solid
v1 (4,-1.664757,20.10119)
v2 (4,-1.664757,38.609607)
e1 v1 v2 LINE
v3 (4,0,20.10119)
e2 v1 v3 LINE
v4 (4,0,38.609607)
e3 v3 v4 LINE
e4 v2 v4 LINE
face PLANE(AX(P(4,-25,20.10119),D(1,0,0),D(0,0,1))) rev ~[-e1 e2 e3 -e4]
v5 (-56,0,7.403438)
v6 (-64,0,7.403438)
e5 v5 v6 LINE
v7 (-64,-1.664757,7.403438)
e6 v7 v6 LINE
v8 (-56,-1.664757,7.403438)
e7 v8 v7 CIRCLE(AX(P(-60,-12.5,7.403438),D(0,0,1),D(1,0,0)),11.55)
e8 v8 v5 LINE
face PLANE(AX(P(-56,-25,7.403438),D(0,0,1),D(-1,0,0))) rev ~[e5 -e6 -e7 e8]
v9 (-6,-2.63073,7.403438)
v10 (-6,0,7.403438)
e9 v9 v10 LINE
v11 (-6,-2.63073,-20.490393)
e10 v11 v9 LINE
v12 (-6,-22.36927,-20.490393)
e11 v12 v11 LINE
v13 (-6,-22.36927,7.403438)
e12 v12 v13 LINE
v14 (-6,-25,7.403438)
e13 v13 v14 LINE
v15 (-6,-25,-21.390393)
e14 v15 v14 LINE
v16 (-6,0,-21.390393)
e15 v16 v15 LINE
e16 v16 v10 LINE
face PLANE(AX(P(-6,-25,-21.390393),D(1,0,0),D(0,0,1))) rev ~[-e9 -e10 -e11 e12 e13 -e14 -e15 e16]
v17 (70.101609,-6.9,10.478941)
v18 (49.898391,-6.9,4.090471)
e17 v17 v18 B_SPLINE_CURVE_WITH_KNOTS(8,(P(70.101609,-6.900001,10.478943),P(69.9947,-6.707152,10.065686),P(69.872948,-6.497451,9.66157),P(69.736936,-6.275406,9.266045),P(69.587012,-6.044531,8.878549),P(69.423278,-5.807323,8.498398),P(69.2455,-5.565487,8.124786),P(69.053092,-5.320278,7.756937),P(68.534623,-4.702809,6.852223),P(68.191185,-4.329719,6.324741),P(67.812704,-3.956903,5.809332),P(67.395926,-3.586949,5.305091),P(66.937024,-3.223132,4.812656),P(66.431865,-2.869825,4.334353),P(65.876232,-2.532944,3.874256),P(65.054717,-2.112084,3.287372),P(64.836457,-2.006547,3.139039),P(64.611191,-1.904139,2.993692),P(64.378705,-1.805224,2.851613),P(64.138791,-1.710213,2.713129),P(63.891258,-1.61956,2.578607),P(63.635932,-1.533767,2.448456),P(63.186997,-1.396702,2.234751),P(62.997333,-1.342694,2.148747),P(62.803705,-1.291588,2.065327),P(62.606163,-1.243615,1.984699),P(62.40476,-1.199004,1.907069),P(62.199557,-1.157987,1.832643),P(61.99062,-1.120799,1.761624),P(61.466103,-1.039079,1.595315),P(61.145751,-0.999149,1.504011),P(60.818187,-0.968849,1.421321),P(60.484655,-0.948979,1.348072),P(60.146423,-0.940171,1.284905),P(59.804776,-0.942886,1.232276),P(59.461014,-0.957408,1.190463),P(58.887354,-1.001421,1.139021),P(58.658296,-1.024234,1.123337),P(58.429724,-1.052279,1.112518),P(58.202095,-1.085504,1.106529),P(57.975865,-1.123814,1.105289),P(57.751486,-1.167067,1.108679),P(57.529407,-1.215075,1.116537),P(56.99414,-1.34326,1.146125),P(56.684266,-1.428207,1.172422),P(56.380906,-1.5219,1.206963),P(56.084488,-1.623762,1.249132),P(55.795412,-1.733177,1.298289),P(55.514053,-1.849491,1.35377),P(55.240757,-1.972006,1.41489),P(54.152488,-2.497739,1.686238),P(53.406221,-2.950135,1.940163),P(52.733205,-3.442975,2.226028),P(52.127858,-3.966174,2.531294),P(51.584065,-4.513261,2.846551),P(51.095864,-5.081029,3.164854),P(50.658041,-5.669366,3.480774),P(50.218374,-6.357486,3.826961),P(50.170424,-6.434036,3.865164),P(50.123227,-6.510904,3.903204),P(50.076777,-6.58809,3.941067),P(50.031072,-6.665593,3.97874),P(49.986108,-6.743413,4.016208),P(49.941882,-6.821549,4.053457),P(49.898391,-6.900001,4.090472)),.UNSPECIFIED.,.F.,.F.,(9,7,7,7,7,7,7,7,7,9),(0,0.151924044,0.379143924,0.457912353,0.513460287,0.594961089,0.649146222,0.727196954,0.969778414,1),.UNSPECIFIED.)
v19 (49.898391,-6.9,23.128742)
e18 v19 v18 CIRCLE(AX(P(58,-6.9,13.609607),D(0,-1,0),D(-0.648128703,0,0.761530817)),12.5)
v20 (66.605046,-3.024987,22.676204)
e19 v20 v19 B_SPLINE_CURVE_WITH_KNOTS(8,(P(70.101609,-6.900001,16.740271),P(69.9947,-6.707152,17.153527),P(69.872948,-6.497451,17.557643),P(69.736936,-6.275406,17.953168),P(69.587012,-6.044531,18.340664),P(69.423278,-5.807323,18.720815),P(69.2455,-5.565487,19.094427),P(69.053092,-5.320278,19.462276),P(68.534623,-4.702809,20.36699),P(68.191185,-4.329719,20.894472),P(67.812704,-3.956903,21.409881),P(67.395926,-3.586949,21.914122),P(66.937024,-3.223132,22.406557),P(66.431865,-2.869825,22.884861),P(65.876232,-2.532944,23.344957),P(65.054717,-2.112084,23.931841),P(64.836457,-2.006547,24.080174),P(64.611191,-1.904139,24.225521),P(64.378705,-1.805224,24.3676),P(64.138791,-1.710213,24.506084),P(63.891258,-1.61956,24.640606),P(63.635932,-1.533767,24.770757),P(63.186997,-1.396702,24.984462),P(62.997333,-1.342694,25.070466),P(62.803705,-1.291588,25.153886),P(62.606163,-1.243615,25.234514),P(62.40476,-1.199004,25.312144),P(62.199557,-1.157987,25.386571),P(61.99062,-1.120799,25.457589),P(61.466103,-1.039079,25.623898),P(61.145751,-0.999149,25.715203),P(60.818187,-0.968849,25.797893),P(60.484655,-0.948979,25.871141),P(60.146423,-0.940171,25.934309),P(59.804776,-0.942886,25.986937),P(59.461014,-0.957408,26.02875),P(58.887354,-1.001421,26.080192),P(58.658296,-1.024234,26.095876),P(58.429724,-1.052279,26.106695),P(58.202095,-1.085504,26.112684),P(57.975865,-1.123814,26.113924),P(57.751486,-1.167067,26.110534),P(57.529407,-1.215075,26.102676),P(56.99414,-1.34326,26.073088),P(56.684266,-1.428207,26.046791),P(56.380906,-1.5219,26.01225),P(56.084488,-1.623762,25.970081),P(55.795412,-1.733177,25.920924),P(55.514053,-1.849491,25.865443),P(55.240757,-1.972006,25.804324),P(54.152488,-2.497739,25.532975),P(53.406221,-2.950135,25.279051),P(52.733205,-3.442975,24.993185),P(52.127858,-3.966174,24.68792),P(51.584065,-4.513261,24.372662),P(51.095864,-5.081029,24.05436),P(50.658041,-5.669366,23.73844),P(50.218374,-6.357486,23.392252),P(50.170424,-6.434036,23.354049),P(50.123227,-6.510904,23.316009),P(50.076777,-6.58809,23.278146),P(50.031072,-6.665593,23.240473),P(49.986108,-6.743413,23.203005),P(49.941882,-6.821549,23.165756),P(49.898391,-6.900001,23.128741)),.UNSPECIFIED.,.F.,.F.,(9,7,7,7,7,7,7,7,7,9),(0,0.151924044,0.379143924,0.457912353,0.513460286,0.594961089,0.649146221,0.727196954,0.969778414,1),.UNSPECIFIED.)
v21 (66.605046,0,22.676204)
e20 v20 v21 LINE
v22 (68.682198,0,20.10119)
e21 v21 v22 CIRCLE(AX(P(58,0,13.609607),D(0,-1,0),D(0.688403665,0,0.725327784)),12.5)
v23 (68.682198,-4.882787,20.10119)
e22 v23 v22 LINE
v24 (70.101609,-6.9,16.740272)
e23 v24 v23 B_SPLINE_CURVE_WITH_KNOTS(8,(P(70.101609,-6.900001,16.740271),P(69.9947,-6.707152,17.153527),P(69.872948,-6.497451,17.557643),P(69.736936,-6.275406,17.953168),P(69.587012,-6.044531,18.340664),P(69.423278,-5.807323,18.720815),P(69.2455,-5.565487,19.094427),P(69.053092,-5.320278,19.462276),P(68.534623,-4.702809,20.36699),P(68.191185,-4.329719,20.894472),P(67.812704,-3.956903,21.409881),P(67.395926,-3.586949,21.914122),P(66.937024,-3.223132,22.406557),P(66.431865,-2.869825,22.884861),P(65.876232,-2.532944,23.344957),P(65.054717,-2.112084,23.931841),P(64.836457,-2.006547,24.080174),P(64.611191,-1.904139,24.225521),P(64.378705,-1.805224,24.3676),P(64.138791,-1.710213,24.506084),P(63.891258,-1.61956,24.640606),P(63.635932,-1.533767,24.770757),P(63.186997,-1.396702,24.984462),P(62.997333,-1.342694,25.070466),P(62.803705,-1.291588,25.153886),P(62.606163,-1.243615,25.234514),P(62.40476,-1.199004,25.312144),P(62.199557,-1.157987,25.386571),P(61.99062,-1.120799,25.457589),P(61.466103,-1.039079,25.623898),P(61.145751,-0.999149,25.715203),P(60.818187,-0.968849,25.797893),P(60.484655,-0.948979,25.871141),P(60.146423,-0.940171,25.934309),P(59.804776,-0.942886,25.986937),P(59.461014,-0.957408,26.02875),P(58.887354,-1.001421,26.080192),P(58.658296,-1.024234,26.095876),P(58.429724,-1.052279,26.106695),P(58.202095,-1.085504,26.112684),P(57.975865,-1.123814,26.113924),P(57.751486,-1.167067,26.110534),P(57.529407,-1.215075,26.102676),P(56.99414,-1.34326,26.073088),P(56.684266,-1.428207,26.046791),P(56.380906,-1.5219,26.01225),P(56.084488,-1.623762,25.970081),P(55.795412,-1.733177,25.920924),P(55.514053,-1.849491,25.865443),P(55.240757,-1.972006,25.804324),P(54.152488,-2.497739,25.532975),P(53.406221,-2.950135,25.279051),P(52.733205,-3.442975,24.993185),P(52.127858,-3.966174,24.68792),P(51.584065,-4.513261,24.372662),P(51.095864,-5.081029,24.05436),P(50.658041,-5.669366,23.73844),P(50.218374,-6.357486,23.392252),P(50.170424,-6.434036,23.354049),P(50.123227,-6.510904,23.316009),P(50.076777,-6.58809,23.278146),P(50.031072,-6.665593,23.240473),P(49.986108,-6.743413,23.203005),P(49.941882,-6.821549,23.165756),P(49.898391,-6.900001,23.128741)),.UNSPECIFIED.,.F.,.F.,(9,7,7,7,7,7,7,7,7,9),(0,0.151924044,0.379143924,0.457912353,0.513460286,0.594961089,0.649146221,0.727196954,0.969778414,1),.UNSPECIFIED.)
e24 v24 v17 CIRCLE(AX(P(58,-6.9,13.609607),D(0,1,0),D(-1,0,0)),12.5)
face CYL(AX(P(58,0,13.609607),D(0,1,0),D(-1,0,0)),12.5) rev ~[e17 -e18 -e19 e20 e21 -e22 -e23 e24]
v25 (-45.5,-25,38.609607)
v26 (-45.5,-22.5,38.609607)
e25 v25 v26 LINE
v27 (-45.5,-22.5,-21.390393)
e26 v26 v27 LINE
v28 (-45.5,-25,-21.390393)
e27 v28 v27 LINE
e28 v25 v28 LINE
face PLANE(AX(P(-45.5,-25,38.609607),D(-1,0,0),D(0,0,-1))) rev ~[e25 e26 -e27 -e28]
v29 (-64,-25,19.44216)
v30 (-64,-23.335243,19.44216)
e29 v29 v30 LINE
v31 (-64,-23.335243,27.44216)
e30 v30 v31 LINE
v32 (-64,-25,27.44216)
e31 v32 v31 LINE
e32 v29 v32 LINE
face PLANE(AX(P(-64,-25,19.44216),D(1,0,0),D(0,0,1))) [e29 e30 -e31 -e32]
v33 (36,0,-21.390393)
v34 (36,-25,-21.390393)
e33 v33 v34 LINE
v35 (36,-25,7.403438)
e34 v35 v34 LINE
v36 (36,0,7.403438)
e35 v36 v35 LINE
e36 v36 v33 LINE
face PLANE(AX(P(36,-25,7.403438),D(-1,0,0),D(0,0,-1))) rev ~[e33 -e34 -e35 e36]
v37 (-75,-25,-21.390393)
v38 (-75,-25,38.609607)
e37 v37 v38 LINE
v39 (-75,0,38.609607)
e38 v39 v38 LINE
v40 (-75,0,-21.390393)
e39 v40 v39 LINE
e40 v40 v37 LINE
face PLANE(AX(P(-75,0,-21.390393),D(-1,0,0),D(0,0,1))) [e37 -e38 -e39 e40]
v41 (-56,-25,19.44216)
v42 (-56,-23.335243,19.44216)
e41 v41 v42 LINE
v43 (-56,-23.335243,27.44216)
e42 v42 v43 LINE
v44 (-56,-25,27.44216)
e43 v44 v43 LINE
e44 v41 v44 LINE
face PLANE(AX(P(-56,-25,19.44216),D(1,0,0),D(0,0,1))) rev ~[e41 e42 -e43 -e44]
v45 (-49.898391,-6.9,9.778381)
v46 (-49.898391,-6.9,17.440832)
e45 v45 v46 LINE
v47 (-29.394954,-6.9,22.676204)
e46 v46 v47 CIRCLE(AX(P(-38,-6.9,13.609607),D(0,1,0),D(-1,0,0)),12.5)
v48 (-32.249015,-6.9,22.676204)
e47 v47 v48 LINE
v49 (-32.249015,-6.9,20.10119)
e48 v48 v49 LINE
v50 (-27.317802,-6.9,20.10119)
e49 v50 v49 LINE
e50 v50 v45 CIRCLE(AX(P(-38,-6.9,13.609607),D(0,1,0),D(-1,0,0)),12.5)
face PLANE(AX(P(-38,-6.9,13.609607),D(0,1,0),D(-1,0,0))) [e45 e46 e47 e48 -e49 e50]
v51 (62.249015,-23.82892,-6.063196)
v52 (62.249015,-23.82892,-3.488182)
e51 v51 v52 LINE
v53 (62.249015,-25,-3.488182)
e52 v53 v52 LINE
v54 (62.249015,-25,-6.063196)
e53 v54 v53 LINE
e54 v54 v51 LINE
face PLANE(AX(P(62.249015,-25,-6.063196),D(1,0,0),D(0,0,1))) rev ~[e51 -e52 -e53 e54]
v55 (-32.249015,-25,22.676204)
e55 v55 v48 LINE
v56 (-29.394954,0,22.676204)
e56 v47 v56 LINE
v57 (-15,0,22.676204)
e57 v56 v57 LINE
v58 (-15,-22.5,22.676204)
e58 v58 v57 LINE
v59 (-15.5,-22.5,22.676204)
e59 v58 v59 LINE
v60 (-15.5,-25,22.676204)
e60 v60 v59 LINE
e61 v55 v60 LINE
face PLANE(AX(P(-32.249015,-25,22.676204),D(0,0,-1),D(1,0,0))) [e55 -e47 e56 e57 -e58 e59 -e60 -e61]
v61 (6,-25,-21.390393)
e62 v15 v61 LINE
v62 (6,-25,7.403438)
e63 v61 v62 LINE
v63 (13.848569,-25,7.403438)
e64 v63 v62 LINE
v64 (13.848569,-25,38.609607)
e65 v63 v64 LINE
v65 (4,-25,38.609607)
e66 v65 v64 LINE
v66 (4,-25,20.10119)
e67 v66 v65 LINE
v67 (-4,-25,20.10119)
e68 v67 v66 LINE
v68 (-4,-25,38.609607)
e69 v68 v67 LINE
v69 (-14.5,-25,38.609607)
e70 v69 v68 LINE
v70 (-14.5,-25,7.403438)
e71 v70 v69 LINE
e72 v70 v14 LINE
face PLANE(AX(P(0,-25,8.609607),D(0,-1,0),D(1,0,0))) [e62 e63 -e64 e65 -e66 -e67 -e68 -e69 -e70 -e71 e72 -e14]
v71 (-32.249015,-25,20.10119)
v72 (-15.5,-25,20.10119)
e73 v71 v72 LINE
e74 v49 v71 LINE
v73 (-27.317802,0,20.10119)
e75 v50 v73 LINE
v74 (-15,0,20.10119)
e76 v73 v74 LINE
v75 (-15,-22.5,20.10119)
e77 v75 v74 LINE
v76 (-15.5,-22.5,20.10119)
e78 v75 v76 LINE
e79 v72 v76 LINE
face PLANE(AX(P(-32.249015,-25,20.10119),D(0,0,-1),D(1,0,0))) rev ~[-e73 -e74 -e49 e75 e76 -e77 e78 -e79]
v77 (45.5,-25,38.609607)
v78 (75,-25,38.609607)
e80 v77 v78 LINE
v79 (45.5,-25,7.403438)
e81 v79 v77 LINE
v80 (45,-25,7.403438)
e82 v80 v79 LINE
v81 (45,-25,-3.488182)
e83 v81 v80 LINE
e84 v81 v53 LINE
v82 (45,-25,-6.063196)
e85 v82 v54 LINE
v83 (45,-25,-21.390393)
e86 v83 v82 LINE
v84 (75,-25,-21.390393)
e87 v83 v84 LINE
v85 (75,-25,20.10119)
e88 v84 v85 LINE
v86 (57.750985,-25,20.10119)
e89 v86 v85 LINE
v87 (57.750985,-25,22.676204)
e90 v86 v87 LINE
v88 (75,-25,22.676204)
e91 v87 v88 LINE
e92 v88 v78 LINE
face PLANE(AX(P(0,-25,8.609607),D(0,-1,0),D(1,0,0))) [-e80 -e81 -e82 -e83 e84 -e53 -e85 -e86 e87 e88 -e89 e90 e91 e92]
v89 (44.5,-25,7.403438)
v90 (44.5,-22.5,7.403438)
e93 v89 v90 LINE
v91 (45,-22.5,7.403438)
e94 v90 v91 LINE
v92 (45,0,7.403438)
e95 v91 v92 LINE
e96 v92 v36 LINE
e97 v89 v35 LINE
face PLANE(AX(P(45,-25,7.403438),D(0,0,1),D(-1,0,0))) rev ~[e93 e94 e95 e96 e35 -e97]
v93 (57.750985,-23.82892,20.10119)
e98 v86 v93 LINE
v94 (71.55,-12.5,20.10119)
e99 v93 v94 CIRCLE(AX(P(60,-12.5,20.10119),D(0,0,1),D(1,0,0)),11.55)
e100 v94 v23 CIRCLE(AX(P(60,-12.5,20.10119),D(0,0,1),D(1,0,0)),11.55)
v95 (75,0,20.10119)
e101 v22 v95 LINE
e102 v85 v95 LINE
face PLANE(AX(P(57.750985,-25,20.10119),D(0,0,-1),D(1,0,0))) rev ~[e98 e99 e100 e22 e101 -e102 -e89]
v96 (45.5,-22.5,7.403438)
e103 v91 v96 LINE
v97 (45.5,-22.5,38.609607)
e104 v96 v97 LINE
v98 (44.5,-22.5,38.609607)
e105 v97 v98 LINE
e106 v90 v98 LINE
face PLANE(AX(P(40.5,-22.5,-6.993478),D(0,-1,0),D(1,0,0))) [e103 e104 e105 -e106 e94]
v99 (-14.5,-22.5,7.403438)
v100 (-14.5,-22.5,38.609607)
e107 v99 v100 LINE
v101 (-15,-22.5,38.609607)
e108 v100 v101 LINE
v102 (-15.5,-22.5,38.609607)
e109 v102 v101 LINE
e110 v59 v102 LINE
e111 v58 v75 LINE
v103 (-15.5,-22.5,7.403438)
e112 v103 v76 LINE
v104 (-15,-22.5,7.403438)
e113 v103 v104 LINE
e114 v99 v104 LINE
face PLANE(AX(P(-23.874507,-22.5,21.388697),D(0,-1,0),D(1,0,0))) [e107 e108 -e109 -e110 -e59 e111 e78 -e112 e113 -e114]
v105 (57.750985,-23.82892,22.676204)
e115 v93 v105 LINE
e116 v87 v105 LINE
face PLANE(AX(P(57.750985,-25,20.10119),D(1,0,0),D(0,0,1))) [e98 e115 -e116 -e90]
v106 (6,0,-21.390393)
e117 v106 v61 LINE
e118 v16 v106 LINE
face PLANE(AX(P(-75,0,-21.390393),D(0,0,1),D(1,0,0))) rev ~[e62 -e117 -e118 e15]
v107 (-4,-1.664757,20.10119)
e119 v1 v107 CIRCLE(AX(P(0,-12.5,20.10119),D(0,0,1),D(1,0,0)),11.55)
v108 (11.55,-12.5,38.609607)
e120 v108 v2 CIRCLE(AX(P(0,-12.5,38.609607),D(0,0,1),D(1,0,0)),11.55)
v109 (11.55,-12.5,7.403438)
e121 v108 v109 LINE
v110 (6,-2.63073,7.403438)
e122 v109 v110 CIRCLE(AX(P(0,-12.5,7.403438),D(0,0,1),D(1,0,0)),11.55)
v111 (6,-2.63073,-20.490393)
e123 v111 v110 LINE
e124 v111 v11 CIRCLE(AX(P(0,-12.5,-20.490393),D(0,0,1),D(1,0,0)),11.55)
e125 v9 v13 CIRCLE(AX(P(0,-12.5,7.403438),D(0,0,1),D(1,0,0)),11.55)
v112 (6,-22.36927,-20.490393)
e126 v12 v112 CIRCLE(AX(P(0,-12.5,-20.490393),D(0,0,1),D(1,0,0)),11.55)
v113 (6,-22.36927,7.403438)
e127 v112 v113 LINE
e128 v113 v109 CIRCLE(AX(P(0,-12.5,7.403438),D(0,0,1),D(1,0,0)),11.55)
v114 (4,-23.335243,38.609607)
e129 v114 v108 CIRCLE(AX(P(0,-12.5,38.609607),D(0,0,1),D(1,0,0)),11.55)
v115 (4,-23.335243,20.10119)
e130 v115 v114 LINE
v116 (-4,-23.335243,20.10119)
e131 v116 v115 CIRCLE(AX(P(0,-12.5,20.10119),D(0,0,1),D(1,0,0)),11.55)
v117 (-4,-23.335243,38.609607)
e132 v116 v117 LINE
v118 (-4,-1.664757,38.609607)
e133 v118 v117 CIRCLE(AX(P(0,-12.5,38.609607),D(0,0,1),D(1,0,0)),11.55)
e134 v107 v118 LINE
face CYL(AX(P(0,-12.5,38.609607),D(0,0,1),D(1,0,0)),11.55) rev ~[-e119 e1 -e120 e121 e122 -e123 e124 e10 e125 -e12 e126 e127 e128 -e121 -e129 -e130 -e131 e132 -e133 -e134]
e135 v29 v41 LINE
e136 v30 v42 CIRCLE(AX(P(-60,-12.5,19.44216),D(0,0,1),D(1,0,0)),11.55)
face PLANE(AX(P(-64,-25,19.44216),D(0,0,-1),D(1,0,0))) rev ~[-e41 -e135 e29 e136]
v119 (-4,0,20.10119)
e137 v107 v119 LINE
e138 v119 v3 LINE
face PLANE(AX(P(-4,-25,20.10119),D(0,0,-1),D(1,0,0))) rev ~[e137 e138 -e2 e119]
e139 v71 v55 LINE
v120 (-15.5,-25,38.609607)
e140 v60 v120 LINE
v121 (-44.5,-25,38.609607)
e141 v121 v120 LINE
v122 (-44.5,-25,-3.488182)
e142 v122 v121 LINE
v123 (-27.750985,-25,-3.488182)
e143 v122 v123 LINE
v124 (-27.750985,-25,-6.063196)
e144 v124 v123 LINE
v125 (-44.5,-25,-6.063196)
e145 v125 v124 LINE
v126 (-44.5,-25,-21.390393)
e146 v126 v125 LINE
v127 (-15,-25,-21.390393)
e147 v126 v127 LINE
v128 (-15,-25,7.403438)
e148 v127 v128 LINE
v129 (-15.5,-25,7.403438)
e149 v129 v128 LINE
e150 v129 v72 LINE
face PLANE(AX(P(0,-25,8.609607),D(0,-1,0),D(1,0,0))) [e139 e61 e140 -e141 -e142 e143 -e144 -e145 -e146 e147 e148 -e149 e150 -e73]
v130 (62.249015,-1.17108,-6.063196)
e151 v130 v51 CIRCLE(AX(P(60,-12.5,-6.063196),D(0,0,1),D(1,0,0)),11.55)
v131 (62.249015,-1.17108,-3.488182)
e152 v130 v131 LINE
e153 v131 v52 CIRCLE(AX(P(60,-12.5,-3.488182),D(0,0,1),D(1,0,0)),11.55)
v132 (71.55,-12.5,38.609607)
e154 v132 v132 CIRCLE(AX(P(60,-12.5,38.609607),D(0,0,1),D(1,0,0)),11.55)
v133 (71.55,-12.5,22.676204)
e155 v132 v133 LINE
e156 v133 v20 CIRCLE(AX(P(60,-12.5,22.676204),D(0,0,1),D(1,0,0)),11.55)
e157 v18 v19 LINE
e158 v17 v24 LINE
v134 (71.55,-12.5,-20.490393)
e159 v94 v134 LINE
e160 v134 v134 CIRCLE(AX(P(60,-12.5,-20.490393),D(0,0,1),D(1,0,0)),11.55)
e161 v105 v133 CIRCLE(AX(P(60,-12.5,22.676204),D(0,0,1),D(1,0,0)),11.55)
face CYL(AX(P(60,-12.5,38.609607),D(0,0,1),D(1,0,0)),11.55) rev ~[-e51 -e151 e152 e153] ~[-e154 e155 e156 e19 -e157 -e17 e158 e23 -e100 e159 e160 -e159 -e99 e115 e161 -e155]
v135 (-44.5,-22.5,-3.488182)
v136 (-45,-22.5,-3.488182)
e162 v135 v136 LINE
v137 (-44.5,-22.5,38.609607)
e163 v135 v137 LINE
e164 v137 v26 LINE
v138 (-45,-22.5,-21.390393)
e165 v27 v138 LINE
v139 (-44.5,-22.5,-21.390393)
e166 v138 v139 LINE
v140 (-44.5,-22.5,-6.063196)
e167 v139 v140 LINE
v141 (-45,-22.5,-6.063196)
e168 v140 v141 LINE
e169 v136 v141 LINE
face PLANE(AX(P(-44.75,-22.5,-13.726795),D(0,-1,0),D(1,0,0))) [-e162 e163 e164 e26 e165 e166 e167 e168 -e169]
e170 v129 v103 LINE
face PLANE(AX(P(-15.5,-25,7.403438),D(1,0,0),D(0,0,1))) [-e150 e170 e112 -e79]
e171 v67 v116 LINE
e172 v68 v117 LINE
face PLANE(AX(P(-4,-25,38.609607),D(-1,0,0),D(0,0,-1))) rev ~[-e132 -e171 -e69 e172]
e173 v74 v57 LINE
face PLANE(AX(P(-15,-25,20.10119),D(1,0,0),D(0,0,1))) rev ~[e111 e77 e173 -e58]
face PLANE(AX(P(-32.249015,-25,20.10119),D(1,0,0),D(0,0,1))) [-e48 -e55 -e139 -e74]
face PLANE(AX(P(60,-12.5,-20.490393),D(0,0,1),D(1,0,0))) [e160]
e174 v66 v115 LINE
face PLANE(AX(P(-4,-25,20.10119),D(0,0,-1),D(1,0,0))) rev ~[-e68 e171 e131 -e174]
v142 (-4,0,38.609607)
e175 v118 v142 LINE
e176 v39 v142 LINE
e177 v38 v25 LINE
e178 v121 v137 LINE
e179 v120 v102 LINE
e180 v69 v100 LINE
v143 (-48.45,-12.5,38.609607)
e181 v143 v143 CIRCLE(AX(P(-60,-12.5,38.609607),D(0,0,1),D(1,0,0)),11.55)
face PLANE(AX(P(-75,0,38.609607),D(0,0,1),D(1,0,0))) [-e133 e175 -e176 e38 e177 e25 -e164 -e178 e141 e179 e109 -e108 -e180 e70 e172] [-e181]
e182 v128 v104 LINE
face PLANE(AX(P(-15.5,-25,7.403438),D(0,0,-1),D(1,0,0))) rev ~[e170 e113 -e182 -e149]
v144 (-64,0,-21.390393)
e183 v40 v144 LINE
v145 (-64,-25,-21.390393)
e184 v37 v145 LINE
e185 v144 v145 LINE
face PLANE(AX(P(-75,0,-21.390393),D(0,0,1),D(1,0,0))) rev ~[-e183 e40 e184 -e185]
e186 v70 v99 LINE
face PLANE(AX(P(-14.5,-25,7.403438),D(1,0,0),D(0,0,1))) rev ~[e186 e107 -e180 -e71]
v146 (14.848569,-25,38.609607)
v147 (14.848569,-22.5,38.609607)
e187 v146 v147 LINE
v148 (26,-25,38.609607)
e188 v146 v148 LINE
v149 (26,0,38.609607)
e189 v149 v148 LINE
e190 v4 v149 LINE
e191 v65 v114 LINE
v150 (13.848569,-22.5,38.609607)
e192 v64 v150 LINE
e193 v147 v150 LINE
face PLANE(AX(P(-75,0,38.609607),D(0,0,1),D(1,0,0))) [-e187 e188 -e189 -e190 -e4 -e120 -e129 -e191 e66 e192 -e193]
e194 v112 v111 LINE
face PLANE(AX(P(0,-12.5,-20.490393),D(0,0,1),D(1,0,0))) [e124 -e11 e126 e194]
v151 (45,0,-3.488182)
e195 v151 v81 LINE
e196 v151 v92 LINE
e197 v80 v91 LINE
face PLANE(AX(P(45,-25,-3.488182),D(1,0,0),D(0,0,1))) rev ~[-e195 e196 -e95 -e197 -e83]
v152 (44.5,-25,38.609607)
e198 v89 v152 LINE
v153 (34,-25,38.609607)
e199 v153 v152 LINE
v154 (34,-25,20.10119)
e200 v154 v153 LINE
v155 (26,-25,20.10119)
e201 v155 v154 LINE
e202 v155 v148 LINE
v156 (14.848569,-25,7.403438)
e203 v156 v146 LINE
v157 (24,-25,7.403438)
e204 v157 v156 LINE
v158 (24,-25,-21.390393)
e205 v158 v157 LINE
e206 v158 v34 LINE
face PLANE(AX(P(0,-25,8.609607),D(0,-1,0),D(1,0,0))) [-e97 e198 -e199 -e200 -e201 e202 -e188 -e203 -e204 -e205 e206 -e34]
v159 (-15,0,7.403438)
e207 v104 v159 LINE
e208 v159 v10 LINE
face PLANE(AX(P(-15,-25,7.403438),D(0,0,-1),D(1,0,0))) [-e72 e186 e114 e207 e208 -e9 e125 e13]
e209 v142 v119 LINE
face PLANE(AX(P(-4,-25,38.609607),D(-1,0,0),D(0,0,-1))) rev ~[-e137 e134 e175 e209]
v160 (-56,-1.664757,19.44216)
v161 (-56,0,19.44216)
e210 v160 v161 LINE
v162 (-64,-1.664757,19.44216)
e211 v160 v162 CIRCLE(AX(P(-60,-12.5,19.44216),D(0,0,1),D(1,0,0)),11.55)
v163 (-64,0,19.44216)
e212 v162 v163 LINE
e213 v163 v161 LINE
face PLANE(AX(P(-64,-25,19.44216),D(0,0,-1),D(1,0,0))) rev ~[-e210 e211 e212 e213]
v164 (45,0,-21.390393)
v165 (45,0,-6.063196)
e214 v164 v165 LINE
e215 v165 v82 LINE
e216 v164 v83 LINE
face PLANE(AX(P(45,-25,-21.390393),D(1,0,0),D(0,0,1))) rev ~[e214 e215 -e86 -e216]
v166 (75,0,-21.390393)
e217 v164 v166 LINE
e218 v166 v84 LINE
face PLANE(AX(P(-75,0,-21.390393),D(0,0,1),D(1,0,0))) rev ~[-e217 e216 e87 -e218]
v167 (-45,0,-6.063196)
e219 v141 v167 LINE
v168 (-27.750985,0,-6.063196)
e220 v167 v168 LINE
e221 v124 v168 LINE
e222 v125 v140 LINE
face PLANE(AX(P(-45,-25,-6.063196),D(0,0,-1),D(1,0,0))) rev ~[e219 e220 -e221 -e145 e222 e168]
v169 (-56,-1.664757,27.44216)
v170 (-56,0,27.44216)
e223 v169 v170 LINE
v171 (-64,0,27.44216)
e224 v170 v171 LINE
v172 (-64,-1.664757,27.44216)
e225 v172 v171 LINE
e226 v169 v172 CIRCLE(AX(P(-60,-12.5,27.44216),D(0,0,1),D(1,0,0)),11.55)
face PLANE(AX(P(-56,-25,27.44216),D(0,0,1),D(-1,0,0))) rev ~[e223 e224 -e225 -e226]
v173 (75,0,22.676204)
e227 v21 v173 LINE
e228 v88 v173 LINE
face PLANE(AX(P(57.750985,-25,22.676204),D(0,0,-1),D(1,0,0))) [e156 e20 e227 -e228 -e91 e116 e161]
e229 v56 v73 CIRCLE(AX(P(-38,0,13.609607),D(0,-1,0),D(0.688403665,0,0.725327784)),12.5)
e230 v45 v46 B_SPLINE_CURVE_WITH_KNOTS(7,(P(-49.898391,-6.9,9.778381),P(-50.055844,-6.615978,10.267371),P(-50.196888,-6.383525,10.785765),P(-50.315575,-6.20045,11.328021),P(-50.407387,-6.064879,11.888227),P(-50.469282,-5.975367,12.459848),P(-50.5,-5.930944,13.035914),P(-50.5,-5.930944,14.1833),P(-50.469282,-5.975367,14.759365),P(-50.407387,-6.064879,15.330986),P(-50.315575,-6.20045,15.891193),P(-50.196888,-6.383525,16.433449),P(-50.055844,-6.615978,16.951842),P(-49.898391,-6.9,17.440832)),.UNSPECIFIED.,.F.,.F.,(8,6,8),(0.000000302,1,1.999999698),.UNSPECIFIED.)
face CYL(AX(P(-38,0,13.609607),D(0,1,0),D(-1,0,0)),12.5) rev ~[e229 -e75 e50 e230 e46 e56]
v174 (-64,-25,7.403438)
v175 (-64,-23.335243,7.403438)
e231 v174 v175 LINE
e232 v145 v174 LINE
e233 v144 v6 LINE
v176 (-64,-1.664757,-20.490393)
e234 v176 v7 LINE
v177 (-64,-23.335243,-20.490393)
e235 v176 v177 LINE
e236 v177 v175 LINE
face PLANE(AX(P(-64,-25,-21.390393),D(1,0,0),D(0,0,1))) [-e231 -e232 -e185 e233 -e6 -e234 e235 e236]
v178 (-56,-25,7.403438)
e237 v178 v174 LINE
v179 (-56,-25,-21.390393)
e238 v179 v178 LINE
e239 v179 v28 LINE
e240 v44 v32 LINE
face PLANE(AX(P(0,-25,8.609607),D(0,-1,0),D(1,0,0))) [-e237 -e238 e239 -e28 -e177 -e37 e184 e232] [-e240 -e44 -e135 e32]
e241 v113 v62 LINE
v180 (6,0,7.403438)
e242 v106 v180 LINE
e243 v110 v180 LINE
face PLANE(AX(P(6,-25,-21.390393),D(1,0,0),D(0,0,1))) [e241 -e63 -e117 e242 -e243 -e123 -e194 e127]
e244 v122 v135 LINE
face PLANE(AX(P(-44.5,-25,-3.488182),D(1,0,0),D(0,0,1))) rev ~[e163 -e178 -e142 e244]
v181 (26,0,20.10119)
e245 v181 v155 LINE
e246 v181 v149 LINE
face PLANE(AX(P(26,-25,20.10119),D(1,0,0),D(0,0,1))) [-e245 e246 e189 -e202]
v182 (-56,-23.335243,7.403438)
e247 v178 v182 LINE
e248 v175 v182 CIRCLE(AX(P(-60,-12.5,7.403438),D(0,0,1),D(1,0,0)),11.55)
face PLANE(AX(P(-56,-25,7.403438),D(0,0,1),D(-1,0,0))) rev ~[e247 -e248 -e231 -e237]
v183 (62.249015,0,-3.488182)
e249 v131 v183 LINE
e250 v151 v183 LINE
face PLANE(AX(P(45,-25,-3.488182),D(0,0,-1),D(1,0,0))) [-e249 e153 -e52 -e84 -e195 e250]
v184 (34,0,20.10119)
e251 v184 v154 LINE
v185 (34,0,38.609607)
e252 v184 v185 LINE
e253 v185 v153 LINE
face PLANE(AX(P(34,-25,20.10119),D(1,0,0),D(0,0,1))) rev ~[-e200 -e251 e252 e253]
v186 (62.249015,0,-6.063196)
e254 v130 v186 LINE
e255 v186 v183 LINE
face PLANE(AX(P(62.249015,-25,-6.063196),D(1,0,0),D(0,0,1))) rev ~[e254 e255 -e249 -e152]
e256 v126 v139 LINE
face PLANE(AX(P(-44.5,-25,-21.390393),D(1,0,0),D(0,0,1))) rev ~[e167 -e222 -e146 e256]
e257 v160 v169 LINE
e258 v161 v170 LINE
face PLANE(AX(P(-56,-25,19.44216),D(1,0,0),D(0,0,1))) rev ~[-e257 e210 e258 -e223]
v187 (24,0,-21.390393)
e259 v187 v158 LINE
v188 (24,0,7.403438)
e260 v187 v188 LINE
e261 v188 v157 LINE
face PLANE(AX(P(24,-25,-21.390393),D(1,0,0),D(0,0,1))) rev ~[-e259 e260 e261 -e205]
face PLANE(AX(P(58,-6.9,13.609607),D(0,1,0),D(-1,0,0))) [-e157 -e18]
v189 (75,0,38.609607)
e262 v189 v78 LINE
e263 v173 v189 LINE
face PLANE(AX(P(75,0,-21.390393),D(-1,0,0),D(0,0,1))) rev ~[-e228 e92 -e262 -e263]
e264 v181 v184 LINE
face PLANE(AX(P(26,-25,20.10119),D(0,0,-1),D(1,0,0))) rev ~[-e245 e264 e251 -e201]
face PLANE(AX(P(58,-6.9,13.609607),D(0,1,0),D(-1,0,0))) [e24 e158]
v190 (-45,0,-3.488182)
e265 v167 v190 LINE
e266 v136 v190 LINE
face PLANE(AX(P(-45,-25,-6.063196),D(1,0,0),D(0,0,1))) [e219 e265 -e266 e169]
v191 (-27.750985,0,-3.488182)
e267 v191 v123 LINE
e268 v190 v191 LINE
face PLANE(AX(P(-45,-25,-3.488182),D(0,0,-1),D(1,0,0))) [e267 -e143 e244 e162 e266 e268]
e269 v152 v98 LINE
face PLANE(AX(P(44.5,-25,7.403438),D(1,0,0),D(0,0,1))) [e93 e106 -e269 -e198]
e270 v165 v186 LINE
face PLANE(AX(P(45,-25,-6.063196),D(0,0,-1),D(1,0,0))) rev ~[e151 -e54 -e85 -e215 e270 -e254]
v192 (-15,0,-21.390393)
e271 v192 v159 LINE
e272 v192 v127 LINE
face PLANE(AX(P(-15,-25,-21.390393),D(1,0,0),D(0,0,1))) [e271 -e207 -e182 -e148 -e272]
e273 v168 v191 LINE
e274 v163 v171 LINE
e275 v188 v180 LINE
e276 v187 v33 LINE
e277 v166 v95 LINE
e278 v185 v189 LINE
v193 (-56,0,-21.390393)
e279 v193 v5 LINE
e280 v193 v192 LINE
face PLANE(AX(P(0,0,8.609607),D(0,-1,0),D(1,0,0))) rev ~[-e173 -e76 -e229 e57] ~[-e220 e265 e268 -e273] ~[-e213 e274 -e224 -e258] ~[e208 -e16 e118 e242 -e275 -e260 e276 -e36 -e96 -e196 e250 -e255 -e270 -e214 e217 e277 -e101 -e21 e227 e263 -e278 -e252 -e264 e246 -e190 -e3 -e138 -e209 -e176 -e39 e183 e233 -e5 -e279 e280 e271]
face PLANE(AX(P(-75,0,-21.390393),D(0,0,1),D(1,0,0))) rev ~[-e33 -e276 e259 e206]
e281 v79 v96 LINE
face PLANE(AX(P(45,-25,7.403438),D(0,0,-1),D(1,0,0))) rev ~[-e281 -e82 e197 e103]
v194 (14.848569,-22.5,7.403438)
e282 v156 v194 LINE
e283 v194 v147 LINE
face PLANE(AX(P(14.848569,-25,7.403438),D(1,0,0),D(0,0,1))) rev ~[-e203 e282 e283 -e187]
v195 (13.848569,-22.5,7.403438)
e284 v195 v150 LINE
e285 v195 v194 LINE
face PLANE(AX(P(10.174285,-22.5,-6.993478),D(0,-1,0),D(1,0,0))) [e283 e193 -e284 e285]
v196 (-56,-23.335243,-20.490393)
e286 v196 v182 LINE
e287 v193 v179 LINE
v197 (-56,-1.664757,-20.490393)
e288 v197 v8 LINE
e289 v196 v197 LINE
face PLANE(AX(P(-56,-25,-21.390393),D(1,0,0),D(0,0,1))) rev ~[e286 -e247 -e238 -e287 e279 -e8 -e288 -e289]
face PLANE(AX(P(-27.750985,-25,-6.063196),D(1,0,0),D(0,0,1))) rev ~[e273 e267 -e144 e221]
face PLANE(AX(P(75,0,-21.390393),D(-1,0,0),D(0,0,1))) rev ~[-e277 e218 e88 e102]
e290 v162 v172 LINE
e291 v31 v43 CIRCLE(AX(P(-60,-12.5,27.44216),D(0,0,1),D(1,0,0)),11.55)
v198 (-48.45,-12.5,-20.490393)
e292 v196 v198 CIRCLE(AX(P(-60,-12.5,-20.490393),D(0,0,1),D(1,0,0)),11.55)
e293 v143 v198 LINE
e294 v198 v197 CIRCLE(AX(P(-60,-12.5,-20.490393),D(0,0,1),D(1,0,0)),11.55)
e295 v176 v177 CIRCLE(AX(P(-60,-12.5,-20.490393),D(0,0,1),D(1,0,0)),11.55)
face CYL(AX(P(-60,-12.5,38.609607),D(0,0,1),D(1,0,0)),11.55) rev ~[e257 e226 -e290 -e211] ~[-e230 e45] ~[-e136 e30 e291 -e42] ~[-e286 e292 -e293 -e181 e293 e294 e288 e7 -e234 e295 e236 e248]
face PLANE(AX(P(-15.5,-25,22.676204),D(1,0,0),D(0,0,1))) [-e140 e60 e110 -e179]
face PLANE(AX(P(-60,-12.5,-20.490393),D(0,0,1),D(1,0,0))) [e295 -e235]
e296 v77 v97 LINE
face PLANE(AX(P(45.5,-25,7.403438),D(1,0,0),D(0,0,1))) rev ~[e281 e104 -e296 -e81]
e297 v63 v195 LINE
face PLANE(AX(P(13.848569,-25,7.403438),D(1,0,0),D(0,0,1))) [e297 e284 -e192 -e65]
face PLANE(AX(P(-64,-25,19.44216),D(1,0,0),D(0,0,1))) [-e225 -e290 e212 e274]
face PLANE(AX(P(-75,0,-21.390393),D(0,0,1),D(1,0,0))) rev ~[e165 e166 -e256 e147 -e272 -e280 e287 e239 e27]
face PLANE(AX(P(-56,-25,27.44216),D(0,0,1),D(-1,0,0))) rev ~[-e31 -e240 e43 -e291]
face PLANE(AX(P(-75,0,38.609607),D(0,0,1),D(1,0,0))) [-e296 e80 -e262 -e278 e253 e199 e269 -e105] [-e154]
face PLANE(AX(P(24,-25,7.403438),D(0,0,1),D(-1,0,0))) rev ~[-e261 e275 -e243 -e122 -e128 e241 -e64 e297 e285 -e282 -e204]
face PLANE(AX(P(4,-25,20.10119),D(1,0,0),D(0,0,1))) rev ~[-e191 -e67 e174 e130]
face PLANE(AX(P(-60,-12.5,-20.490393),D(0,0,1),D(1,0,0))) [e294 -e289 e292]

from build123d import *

# Parameters (mm, degrees)
F0_W      = 150
F0_H      = 60
F1_DEPTH  = 25
F2_W      = 146
F2_H      = 21
F3_DEPTH  = 2
F4_R      = 11.55
F5_DEPTH  = 59.1
F6_R      = 12.5
F7_DEPTH  = 6.9
F8_W      = 4
F8_H      = 8
F8_H_2    = 28.7938314093
F8_W_2    = 17.2490148246
F8_H_3    = 2.5750142522
F8_W_3    = 9
F8_H_4    = 18.5084169569
F9_DEPTH  = 35.6
F10_W     = 8
F10_H     = 28.7938314093
F10_H_2   = 18.5084169569
F10_H_3   = 8
F10_W_2   = 0.5
F10_H_4   = 15.327197553
F10_W_3   = 16.7490148246
F10_H_5   = 2.5750142522
F10_H_6   = 31.2061685907
F10_H_7   = 15.9334027047
F10_H_8   = 12.6977516338
F10_H_9   = 42.0977881948
F11_DEPTH = 2.5


with BuildPart() as f1:
    # F0 (on Front) → F1 (new body)
    with BuildSketch(Plane.XZ):
        with Locations((0, 8.6096065703)):
            Rectangle(F0_W, F0_H)
    extrude(amount=F1_DEPTH)

    # F2 (on face) → F3 (join)
    with BuildSketch(Plane.XY.offset(38.6096065703)):
        with Locations((0, -12.5)):
            Rectangle(F2_W, F2_H)
    extrude(amount=-F3_DEPTH)

    # F4 (on face) → F5 (cut)
    with BuildSketch(Plane.XY.offset(38.6096065703)):
        with Locations((60, -12.5)):
            Circle(F4_R)
        with Locations((-60, -12.5)):
            Circle(F4_R)
        with Locations((0, -12.5)):
            Circle(F4_R)
    extrude(amount=-F5_DEPTH, mode=Mode.SUBTRACT)

    # F6 (on face) → F7 (cut)
    with BuildSketch(Plane(origin=(0, 0, 0), x_dir=(-1, 0, 0), z_dir=(0, 1, 0))):
        with Locations((-58, 13.6096065703)):
            Circle(F6_R)
        with Locations((38, 13.6096065703)):
            Circle(F6_R)
    extrude(amount=-F7_DEPTH, mode=Mode.SUBTRACT)

    # F8 (on face) → F9 (cut)
    with BuildSketch(Plane.XZ.offset(25)):
        with Locations((-62, 23.4421596825)):
            Rectangle(F8_W, F8_H)
        with Locations((-58, 23.4421596825)):
            Rectangle(F8_W, F8_H)
        with Locations((-62, -6.9934777251)):
            Rectangle(F8_W, F8_H_2)
        with Locations((-58, -6.9934777251)):
            Rectangle(F8_W, F8_H_2)
        with Locations((-36.3754925877, -4.7756887507)):
            Rectangle(F8_W_2, F8_H_3)
        with Locations((-23.6245074123, 21.3886967395)):
            Rectangle(F8_W_2, F8_H_3)
        Polygon((4, 38.6096065703), (-4, 38.6096065703), (-4, 20.1011896133), (0, 20.1011896133), (4, 20.1011896133), align=None)
        with Locations((-10.5, -6.9934777251)):
            Rectangle(F8_W_3, F8_H_2)
        with Locations((10.5, -6.9934777251)):
            Rectangle(F8_W_3, F8_H_2)
        with Locations((19.5, -6.9934777251)):
            Rectangle(F8_W_3, F8_H_2)
        with Locations((32, 29.3553980918)):
            Rectangle(F8_W, F8_H_4)
        with Locations((28, 29.3553980918)):
            Rectangle(F8_W, F8_H_4)
        Polygon((36, 7.4034379795), (36, -21.3903934297), (45, -21.3903934297), (45, -6.0631958768), (45, -3.4881816246), (45, 7.4034379795), align=None)
        with Locations((53.6245074123, -4.7756887507)):
            Rectangle(F8_W_2, F8_H_3)
        with Locations((66.3754925877, 21.3886967395)):
            Rectangle(F8_W_2, F8_H_3)
    extrude(amount=-F9_DEPTH, mode=Mode.SUBTRACT)

    # F10 (on face) → F11 (cut)
    with BuildSketch(Plane.XZ.offset(25)):
        with Locations((-60, -6.9934777251)):
            Rectangle(F10_W, F10_H)
        with Locations((0, 29.3553980918)):
            Rectangle(F10_W, F10_H_2)
        with Locations((30, 29.3553980918)):
            Rectangle(F10_W, F10_H_2)
        with Locations((-60, 23.4421596825)):
            Rectangle(F10_W, F10_H_3)
        with Locations((-44.75, -13.7267946533)):
            Rectangle(F10_W_2, F10_H_4)
        with Locations((-36.1254925877, -4.7756887507)):
            Rectangle(F10_W_3, F10_H_5)
        with Locations((-23.8745074123, 21.3886967395)):
            Rectangle(F10_W_3, F10_H_5)
        Polygon((-15, 7.4034379795), (-15, -21.3903934297), (-6, -21.3903934297), (-6, 7.4034379795), (-14.5, 7.4034379795), align=None)
        Polygon((6, 7.4034379795), (6, -21.3903934297), (14.3485692441, -21.3903934297), (14.3485692441, 7.4034379795), (13.8485692441, 7.4034379795), align=None)
        Polygon((14.3485692441, 7.4034379795), (14.3485692441, -21.3903934297), (24, -21.3903934297), (24, 7.4034379795), (14.8485692441, 7.4034379795), align=None)
        with Locations((-44.75, -4.7756887507)):
            Rectangle(F10_W_2, F10_H_5)
        Polygon((36, 7.4034379795), (36, -21.3903934297), (45, -21.3903934297), (45, -6.0631958768), (45, -3.4881816246), (45, 7.4034379795), (44.5, 7.4034379795), align=None)
        with Locations((45.25, 23.0065222749)):
            Rectangle(F10_W_2, F10_H_6)
        with Locations((44.75, 23.0065222749)):
            Rectangle(F10_W_2, F10_H_6)
        with Locations((14.5985692441, 23.0065222749)):
            Rectangle(F10_W_2, F10_H_6)
        with Locations((14.0985692441, 23.0065222749)):
            Rectangle(F10_W_2, F10_H_6)
        Polygon((-14.5, 38.6096065703), (-15, 38.6096065703), (-15, 22.6762038656), (-15, 20.1011896133), (-15, 7.4034379795), (-14.5, 7.4034379795), align=None)
        with Locations((-15.25, 30.6429052179)):
            Rectangle(F10_W_2, F10_H_7)
        with Locations((-15.25, 13.7523137964)):
            Rectangle(F10_W_2, F10_H_8)
        with Locations((-15.25, 21.3886967395)):
            Rectangle(F10_W_2, F10_H_5)
        with Locations((-44.75, 17.5607124729)):
            Rectangle(F10_W_2, F10_H_9)
        Polygon((-45, 38.6096065703), (-45.5, 38.6096065703), (-45.5, -21.3903934297), (-45, -21.3903934297), (-45, -6.0631958768), (-45, -3.4881816246), align=None)
    extrude(amount=-F11_DEPTH, mode=Mode.SUBTRACT)


solid = f1.part
